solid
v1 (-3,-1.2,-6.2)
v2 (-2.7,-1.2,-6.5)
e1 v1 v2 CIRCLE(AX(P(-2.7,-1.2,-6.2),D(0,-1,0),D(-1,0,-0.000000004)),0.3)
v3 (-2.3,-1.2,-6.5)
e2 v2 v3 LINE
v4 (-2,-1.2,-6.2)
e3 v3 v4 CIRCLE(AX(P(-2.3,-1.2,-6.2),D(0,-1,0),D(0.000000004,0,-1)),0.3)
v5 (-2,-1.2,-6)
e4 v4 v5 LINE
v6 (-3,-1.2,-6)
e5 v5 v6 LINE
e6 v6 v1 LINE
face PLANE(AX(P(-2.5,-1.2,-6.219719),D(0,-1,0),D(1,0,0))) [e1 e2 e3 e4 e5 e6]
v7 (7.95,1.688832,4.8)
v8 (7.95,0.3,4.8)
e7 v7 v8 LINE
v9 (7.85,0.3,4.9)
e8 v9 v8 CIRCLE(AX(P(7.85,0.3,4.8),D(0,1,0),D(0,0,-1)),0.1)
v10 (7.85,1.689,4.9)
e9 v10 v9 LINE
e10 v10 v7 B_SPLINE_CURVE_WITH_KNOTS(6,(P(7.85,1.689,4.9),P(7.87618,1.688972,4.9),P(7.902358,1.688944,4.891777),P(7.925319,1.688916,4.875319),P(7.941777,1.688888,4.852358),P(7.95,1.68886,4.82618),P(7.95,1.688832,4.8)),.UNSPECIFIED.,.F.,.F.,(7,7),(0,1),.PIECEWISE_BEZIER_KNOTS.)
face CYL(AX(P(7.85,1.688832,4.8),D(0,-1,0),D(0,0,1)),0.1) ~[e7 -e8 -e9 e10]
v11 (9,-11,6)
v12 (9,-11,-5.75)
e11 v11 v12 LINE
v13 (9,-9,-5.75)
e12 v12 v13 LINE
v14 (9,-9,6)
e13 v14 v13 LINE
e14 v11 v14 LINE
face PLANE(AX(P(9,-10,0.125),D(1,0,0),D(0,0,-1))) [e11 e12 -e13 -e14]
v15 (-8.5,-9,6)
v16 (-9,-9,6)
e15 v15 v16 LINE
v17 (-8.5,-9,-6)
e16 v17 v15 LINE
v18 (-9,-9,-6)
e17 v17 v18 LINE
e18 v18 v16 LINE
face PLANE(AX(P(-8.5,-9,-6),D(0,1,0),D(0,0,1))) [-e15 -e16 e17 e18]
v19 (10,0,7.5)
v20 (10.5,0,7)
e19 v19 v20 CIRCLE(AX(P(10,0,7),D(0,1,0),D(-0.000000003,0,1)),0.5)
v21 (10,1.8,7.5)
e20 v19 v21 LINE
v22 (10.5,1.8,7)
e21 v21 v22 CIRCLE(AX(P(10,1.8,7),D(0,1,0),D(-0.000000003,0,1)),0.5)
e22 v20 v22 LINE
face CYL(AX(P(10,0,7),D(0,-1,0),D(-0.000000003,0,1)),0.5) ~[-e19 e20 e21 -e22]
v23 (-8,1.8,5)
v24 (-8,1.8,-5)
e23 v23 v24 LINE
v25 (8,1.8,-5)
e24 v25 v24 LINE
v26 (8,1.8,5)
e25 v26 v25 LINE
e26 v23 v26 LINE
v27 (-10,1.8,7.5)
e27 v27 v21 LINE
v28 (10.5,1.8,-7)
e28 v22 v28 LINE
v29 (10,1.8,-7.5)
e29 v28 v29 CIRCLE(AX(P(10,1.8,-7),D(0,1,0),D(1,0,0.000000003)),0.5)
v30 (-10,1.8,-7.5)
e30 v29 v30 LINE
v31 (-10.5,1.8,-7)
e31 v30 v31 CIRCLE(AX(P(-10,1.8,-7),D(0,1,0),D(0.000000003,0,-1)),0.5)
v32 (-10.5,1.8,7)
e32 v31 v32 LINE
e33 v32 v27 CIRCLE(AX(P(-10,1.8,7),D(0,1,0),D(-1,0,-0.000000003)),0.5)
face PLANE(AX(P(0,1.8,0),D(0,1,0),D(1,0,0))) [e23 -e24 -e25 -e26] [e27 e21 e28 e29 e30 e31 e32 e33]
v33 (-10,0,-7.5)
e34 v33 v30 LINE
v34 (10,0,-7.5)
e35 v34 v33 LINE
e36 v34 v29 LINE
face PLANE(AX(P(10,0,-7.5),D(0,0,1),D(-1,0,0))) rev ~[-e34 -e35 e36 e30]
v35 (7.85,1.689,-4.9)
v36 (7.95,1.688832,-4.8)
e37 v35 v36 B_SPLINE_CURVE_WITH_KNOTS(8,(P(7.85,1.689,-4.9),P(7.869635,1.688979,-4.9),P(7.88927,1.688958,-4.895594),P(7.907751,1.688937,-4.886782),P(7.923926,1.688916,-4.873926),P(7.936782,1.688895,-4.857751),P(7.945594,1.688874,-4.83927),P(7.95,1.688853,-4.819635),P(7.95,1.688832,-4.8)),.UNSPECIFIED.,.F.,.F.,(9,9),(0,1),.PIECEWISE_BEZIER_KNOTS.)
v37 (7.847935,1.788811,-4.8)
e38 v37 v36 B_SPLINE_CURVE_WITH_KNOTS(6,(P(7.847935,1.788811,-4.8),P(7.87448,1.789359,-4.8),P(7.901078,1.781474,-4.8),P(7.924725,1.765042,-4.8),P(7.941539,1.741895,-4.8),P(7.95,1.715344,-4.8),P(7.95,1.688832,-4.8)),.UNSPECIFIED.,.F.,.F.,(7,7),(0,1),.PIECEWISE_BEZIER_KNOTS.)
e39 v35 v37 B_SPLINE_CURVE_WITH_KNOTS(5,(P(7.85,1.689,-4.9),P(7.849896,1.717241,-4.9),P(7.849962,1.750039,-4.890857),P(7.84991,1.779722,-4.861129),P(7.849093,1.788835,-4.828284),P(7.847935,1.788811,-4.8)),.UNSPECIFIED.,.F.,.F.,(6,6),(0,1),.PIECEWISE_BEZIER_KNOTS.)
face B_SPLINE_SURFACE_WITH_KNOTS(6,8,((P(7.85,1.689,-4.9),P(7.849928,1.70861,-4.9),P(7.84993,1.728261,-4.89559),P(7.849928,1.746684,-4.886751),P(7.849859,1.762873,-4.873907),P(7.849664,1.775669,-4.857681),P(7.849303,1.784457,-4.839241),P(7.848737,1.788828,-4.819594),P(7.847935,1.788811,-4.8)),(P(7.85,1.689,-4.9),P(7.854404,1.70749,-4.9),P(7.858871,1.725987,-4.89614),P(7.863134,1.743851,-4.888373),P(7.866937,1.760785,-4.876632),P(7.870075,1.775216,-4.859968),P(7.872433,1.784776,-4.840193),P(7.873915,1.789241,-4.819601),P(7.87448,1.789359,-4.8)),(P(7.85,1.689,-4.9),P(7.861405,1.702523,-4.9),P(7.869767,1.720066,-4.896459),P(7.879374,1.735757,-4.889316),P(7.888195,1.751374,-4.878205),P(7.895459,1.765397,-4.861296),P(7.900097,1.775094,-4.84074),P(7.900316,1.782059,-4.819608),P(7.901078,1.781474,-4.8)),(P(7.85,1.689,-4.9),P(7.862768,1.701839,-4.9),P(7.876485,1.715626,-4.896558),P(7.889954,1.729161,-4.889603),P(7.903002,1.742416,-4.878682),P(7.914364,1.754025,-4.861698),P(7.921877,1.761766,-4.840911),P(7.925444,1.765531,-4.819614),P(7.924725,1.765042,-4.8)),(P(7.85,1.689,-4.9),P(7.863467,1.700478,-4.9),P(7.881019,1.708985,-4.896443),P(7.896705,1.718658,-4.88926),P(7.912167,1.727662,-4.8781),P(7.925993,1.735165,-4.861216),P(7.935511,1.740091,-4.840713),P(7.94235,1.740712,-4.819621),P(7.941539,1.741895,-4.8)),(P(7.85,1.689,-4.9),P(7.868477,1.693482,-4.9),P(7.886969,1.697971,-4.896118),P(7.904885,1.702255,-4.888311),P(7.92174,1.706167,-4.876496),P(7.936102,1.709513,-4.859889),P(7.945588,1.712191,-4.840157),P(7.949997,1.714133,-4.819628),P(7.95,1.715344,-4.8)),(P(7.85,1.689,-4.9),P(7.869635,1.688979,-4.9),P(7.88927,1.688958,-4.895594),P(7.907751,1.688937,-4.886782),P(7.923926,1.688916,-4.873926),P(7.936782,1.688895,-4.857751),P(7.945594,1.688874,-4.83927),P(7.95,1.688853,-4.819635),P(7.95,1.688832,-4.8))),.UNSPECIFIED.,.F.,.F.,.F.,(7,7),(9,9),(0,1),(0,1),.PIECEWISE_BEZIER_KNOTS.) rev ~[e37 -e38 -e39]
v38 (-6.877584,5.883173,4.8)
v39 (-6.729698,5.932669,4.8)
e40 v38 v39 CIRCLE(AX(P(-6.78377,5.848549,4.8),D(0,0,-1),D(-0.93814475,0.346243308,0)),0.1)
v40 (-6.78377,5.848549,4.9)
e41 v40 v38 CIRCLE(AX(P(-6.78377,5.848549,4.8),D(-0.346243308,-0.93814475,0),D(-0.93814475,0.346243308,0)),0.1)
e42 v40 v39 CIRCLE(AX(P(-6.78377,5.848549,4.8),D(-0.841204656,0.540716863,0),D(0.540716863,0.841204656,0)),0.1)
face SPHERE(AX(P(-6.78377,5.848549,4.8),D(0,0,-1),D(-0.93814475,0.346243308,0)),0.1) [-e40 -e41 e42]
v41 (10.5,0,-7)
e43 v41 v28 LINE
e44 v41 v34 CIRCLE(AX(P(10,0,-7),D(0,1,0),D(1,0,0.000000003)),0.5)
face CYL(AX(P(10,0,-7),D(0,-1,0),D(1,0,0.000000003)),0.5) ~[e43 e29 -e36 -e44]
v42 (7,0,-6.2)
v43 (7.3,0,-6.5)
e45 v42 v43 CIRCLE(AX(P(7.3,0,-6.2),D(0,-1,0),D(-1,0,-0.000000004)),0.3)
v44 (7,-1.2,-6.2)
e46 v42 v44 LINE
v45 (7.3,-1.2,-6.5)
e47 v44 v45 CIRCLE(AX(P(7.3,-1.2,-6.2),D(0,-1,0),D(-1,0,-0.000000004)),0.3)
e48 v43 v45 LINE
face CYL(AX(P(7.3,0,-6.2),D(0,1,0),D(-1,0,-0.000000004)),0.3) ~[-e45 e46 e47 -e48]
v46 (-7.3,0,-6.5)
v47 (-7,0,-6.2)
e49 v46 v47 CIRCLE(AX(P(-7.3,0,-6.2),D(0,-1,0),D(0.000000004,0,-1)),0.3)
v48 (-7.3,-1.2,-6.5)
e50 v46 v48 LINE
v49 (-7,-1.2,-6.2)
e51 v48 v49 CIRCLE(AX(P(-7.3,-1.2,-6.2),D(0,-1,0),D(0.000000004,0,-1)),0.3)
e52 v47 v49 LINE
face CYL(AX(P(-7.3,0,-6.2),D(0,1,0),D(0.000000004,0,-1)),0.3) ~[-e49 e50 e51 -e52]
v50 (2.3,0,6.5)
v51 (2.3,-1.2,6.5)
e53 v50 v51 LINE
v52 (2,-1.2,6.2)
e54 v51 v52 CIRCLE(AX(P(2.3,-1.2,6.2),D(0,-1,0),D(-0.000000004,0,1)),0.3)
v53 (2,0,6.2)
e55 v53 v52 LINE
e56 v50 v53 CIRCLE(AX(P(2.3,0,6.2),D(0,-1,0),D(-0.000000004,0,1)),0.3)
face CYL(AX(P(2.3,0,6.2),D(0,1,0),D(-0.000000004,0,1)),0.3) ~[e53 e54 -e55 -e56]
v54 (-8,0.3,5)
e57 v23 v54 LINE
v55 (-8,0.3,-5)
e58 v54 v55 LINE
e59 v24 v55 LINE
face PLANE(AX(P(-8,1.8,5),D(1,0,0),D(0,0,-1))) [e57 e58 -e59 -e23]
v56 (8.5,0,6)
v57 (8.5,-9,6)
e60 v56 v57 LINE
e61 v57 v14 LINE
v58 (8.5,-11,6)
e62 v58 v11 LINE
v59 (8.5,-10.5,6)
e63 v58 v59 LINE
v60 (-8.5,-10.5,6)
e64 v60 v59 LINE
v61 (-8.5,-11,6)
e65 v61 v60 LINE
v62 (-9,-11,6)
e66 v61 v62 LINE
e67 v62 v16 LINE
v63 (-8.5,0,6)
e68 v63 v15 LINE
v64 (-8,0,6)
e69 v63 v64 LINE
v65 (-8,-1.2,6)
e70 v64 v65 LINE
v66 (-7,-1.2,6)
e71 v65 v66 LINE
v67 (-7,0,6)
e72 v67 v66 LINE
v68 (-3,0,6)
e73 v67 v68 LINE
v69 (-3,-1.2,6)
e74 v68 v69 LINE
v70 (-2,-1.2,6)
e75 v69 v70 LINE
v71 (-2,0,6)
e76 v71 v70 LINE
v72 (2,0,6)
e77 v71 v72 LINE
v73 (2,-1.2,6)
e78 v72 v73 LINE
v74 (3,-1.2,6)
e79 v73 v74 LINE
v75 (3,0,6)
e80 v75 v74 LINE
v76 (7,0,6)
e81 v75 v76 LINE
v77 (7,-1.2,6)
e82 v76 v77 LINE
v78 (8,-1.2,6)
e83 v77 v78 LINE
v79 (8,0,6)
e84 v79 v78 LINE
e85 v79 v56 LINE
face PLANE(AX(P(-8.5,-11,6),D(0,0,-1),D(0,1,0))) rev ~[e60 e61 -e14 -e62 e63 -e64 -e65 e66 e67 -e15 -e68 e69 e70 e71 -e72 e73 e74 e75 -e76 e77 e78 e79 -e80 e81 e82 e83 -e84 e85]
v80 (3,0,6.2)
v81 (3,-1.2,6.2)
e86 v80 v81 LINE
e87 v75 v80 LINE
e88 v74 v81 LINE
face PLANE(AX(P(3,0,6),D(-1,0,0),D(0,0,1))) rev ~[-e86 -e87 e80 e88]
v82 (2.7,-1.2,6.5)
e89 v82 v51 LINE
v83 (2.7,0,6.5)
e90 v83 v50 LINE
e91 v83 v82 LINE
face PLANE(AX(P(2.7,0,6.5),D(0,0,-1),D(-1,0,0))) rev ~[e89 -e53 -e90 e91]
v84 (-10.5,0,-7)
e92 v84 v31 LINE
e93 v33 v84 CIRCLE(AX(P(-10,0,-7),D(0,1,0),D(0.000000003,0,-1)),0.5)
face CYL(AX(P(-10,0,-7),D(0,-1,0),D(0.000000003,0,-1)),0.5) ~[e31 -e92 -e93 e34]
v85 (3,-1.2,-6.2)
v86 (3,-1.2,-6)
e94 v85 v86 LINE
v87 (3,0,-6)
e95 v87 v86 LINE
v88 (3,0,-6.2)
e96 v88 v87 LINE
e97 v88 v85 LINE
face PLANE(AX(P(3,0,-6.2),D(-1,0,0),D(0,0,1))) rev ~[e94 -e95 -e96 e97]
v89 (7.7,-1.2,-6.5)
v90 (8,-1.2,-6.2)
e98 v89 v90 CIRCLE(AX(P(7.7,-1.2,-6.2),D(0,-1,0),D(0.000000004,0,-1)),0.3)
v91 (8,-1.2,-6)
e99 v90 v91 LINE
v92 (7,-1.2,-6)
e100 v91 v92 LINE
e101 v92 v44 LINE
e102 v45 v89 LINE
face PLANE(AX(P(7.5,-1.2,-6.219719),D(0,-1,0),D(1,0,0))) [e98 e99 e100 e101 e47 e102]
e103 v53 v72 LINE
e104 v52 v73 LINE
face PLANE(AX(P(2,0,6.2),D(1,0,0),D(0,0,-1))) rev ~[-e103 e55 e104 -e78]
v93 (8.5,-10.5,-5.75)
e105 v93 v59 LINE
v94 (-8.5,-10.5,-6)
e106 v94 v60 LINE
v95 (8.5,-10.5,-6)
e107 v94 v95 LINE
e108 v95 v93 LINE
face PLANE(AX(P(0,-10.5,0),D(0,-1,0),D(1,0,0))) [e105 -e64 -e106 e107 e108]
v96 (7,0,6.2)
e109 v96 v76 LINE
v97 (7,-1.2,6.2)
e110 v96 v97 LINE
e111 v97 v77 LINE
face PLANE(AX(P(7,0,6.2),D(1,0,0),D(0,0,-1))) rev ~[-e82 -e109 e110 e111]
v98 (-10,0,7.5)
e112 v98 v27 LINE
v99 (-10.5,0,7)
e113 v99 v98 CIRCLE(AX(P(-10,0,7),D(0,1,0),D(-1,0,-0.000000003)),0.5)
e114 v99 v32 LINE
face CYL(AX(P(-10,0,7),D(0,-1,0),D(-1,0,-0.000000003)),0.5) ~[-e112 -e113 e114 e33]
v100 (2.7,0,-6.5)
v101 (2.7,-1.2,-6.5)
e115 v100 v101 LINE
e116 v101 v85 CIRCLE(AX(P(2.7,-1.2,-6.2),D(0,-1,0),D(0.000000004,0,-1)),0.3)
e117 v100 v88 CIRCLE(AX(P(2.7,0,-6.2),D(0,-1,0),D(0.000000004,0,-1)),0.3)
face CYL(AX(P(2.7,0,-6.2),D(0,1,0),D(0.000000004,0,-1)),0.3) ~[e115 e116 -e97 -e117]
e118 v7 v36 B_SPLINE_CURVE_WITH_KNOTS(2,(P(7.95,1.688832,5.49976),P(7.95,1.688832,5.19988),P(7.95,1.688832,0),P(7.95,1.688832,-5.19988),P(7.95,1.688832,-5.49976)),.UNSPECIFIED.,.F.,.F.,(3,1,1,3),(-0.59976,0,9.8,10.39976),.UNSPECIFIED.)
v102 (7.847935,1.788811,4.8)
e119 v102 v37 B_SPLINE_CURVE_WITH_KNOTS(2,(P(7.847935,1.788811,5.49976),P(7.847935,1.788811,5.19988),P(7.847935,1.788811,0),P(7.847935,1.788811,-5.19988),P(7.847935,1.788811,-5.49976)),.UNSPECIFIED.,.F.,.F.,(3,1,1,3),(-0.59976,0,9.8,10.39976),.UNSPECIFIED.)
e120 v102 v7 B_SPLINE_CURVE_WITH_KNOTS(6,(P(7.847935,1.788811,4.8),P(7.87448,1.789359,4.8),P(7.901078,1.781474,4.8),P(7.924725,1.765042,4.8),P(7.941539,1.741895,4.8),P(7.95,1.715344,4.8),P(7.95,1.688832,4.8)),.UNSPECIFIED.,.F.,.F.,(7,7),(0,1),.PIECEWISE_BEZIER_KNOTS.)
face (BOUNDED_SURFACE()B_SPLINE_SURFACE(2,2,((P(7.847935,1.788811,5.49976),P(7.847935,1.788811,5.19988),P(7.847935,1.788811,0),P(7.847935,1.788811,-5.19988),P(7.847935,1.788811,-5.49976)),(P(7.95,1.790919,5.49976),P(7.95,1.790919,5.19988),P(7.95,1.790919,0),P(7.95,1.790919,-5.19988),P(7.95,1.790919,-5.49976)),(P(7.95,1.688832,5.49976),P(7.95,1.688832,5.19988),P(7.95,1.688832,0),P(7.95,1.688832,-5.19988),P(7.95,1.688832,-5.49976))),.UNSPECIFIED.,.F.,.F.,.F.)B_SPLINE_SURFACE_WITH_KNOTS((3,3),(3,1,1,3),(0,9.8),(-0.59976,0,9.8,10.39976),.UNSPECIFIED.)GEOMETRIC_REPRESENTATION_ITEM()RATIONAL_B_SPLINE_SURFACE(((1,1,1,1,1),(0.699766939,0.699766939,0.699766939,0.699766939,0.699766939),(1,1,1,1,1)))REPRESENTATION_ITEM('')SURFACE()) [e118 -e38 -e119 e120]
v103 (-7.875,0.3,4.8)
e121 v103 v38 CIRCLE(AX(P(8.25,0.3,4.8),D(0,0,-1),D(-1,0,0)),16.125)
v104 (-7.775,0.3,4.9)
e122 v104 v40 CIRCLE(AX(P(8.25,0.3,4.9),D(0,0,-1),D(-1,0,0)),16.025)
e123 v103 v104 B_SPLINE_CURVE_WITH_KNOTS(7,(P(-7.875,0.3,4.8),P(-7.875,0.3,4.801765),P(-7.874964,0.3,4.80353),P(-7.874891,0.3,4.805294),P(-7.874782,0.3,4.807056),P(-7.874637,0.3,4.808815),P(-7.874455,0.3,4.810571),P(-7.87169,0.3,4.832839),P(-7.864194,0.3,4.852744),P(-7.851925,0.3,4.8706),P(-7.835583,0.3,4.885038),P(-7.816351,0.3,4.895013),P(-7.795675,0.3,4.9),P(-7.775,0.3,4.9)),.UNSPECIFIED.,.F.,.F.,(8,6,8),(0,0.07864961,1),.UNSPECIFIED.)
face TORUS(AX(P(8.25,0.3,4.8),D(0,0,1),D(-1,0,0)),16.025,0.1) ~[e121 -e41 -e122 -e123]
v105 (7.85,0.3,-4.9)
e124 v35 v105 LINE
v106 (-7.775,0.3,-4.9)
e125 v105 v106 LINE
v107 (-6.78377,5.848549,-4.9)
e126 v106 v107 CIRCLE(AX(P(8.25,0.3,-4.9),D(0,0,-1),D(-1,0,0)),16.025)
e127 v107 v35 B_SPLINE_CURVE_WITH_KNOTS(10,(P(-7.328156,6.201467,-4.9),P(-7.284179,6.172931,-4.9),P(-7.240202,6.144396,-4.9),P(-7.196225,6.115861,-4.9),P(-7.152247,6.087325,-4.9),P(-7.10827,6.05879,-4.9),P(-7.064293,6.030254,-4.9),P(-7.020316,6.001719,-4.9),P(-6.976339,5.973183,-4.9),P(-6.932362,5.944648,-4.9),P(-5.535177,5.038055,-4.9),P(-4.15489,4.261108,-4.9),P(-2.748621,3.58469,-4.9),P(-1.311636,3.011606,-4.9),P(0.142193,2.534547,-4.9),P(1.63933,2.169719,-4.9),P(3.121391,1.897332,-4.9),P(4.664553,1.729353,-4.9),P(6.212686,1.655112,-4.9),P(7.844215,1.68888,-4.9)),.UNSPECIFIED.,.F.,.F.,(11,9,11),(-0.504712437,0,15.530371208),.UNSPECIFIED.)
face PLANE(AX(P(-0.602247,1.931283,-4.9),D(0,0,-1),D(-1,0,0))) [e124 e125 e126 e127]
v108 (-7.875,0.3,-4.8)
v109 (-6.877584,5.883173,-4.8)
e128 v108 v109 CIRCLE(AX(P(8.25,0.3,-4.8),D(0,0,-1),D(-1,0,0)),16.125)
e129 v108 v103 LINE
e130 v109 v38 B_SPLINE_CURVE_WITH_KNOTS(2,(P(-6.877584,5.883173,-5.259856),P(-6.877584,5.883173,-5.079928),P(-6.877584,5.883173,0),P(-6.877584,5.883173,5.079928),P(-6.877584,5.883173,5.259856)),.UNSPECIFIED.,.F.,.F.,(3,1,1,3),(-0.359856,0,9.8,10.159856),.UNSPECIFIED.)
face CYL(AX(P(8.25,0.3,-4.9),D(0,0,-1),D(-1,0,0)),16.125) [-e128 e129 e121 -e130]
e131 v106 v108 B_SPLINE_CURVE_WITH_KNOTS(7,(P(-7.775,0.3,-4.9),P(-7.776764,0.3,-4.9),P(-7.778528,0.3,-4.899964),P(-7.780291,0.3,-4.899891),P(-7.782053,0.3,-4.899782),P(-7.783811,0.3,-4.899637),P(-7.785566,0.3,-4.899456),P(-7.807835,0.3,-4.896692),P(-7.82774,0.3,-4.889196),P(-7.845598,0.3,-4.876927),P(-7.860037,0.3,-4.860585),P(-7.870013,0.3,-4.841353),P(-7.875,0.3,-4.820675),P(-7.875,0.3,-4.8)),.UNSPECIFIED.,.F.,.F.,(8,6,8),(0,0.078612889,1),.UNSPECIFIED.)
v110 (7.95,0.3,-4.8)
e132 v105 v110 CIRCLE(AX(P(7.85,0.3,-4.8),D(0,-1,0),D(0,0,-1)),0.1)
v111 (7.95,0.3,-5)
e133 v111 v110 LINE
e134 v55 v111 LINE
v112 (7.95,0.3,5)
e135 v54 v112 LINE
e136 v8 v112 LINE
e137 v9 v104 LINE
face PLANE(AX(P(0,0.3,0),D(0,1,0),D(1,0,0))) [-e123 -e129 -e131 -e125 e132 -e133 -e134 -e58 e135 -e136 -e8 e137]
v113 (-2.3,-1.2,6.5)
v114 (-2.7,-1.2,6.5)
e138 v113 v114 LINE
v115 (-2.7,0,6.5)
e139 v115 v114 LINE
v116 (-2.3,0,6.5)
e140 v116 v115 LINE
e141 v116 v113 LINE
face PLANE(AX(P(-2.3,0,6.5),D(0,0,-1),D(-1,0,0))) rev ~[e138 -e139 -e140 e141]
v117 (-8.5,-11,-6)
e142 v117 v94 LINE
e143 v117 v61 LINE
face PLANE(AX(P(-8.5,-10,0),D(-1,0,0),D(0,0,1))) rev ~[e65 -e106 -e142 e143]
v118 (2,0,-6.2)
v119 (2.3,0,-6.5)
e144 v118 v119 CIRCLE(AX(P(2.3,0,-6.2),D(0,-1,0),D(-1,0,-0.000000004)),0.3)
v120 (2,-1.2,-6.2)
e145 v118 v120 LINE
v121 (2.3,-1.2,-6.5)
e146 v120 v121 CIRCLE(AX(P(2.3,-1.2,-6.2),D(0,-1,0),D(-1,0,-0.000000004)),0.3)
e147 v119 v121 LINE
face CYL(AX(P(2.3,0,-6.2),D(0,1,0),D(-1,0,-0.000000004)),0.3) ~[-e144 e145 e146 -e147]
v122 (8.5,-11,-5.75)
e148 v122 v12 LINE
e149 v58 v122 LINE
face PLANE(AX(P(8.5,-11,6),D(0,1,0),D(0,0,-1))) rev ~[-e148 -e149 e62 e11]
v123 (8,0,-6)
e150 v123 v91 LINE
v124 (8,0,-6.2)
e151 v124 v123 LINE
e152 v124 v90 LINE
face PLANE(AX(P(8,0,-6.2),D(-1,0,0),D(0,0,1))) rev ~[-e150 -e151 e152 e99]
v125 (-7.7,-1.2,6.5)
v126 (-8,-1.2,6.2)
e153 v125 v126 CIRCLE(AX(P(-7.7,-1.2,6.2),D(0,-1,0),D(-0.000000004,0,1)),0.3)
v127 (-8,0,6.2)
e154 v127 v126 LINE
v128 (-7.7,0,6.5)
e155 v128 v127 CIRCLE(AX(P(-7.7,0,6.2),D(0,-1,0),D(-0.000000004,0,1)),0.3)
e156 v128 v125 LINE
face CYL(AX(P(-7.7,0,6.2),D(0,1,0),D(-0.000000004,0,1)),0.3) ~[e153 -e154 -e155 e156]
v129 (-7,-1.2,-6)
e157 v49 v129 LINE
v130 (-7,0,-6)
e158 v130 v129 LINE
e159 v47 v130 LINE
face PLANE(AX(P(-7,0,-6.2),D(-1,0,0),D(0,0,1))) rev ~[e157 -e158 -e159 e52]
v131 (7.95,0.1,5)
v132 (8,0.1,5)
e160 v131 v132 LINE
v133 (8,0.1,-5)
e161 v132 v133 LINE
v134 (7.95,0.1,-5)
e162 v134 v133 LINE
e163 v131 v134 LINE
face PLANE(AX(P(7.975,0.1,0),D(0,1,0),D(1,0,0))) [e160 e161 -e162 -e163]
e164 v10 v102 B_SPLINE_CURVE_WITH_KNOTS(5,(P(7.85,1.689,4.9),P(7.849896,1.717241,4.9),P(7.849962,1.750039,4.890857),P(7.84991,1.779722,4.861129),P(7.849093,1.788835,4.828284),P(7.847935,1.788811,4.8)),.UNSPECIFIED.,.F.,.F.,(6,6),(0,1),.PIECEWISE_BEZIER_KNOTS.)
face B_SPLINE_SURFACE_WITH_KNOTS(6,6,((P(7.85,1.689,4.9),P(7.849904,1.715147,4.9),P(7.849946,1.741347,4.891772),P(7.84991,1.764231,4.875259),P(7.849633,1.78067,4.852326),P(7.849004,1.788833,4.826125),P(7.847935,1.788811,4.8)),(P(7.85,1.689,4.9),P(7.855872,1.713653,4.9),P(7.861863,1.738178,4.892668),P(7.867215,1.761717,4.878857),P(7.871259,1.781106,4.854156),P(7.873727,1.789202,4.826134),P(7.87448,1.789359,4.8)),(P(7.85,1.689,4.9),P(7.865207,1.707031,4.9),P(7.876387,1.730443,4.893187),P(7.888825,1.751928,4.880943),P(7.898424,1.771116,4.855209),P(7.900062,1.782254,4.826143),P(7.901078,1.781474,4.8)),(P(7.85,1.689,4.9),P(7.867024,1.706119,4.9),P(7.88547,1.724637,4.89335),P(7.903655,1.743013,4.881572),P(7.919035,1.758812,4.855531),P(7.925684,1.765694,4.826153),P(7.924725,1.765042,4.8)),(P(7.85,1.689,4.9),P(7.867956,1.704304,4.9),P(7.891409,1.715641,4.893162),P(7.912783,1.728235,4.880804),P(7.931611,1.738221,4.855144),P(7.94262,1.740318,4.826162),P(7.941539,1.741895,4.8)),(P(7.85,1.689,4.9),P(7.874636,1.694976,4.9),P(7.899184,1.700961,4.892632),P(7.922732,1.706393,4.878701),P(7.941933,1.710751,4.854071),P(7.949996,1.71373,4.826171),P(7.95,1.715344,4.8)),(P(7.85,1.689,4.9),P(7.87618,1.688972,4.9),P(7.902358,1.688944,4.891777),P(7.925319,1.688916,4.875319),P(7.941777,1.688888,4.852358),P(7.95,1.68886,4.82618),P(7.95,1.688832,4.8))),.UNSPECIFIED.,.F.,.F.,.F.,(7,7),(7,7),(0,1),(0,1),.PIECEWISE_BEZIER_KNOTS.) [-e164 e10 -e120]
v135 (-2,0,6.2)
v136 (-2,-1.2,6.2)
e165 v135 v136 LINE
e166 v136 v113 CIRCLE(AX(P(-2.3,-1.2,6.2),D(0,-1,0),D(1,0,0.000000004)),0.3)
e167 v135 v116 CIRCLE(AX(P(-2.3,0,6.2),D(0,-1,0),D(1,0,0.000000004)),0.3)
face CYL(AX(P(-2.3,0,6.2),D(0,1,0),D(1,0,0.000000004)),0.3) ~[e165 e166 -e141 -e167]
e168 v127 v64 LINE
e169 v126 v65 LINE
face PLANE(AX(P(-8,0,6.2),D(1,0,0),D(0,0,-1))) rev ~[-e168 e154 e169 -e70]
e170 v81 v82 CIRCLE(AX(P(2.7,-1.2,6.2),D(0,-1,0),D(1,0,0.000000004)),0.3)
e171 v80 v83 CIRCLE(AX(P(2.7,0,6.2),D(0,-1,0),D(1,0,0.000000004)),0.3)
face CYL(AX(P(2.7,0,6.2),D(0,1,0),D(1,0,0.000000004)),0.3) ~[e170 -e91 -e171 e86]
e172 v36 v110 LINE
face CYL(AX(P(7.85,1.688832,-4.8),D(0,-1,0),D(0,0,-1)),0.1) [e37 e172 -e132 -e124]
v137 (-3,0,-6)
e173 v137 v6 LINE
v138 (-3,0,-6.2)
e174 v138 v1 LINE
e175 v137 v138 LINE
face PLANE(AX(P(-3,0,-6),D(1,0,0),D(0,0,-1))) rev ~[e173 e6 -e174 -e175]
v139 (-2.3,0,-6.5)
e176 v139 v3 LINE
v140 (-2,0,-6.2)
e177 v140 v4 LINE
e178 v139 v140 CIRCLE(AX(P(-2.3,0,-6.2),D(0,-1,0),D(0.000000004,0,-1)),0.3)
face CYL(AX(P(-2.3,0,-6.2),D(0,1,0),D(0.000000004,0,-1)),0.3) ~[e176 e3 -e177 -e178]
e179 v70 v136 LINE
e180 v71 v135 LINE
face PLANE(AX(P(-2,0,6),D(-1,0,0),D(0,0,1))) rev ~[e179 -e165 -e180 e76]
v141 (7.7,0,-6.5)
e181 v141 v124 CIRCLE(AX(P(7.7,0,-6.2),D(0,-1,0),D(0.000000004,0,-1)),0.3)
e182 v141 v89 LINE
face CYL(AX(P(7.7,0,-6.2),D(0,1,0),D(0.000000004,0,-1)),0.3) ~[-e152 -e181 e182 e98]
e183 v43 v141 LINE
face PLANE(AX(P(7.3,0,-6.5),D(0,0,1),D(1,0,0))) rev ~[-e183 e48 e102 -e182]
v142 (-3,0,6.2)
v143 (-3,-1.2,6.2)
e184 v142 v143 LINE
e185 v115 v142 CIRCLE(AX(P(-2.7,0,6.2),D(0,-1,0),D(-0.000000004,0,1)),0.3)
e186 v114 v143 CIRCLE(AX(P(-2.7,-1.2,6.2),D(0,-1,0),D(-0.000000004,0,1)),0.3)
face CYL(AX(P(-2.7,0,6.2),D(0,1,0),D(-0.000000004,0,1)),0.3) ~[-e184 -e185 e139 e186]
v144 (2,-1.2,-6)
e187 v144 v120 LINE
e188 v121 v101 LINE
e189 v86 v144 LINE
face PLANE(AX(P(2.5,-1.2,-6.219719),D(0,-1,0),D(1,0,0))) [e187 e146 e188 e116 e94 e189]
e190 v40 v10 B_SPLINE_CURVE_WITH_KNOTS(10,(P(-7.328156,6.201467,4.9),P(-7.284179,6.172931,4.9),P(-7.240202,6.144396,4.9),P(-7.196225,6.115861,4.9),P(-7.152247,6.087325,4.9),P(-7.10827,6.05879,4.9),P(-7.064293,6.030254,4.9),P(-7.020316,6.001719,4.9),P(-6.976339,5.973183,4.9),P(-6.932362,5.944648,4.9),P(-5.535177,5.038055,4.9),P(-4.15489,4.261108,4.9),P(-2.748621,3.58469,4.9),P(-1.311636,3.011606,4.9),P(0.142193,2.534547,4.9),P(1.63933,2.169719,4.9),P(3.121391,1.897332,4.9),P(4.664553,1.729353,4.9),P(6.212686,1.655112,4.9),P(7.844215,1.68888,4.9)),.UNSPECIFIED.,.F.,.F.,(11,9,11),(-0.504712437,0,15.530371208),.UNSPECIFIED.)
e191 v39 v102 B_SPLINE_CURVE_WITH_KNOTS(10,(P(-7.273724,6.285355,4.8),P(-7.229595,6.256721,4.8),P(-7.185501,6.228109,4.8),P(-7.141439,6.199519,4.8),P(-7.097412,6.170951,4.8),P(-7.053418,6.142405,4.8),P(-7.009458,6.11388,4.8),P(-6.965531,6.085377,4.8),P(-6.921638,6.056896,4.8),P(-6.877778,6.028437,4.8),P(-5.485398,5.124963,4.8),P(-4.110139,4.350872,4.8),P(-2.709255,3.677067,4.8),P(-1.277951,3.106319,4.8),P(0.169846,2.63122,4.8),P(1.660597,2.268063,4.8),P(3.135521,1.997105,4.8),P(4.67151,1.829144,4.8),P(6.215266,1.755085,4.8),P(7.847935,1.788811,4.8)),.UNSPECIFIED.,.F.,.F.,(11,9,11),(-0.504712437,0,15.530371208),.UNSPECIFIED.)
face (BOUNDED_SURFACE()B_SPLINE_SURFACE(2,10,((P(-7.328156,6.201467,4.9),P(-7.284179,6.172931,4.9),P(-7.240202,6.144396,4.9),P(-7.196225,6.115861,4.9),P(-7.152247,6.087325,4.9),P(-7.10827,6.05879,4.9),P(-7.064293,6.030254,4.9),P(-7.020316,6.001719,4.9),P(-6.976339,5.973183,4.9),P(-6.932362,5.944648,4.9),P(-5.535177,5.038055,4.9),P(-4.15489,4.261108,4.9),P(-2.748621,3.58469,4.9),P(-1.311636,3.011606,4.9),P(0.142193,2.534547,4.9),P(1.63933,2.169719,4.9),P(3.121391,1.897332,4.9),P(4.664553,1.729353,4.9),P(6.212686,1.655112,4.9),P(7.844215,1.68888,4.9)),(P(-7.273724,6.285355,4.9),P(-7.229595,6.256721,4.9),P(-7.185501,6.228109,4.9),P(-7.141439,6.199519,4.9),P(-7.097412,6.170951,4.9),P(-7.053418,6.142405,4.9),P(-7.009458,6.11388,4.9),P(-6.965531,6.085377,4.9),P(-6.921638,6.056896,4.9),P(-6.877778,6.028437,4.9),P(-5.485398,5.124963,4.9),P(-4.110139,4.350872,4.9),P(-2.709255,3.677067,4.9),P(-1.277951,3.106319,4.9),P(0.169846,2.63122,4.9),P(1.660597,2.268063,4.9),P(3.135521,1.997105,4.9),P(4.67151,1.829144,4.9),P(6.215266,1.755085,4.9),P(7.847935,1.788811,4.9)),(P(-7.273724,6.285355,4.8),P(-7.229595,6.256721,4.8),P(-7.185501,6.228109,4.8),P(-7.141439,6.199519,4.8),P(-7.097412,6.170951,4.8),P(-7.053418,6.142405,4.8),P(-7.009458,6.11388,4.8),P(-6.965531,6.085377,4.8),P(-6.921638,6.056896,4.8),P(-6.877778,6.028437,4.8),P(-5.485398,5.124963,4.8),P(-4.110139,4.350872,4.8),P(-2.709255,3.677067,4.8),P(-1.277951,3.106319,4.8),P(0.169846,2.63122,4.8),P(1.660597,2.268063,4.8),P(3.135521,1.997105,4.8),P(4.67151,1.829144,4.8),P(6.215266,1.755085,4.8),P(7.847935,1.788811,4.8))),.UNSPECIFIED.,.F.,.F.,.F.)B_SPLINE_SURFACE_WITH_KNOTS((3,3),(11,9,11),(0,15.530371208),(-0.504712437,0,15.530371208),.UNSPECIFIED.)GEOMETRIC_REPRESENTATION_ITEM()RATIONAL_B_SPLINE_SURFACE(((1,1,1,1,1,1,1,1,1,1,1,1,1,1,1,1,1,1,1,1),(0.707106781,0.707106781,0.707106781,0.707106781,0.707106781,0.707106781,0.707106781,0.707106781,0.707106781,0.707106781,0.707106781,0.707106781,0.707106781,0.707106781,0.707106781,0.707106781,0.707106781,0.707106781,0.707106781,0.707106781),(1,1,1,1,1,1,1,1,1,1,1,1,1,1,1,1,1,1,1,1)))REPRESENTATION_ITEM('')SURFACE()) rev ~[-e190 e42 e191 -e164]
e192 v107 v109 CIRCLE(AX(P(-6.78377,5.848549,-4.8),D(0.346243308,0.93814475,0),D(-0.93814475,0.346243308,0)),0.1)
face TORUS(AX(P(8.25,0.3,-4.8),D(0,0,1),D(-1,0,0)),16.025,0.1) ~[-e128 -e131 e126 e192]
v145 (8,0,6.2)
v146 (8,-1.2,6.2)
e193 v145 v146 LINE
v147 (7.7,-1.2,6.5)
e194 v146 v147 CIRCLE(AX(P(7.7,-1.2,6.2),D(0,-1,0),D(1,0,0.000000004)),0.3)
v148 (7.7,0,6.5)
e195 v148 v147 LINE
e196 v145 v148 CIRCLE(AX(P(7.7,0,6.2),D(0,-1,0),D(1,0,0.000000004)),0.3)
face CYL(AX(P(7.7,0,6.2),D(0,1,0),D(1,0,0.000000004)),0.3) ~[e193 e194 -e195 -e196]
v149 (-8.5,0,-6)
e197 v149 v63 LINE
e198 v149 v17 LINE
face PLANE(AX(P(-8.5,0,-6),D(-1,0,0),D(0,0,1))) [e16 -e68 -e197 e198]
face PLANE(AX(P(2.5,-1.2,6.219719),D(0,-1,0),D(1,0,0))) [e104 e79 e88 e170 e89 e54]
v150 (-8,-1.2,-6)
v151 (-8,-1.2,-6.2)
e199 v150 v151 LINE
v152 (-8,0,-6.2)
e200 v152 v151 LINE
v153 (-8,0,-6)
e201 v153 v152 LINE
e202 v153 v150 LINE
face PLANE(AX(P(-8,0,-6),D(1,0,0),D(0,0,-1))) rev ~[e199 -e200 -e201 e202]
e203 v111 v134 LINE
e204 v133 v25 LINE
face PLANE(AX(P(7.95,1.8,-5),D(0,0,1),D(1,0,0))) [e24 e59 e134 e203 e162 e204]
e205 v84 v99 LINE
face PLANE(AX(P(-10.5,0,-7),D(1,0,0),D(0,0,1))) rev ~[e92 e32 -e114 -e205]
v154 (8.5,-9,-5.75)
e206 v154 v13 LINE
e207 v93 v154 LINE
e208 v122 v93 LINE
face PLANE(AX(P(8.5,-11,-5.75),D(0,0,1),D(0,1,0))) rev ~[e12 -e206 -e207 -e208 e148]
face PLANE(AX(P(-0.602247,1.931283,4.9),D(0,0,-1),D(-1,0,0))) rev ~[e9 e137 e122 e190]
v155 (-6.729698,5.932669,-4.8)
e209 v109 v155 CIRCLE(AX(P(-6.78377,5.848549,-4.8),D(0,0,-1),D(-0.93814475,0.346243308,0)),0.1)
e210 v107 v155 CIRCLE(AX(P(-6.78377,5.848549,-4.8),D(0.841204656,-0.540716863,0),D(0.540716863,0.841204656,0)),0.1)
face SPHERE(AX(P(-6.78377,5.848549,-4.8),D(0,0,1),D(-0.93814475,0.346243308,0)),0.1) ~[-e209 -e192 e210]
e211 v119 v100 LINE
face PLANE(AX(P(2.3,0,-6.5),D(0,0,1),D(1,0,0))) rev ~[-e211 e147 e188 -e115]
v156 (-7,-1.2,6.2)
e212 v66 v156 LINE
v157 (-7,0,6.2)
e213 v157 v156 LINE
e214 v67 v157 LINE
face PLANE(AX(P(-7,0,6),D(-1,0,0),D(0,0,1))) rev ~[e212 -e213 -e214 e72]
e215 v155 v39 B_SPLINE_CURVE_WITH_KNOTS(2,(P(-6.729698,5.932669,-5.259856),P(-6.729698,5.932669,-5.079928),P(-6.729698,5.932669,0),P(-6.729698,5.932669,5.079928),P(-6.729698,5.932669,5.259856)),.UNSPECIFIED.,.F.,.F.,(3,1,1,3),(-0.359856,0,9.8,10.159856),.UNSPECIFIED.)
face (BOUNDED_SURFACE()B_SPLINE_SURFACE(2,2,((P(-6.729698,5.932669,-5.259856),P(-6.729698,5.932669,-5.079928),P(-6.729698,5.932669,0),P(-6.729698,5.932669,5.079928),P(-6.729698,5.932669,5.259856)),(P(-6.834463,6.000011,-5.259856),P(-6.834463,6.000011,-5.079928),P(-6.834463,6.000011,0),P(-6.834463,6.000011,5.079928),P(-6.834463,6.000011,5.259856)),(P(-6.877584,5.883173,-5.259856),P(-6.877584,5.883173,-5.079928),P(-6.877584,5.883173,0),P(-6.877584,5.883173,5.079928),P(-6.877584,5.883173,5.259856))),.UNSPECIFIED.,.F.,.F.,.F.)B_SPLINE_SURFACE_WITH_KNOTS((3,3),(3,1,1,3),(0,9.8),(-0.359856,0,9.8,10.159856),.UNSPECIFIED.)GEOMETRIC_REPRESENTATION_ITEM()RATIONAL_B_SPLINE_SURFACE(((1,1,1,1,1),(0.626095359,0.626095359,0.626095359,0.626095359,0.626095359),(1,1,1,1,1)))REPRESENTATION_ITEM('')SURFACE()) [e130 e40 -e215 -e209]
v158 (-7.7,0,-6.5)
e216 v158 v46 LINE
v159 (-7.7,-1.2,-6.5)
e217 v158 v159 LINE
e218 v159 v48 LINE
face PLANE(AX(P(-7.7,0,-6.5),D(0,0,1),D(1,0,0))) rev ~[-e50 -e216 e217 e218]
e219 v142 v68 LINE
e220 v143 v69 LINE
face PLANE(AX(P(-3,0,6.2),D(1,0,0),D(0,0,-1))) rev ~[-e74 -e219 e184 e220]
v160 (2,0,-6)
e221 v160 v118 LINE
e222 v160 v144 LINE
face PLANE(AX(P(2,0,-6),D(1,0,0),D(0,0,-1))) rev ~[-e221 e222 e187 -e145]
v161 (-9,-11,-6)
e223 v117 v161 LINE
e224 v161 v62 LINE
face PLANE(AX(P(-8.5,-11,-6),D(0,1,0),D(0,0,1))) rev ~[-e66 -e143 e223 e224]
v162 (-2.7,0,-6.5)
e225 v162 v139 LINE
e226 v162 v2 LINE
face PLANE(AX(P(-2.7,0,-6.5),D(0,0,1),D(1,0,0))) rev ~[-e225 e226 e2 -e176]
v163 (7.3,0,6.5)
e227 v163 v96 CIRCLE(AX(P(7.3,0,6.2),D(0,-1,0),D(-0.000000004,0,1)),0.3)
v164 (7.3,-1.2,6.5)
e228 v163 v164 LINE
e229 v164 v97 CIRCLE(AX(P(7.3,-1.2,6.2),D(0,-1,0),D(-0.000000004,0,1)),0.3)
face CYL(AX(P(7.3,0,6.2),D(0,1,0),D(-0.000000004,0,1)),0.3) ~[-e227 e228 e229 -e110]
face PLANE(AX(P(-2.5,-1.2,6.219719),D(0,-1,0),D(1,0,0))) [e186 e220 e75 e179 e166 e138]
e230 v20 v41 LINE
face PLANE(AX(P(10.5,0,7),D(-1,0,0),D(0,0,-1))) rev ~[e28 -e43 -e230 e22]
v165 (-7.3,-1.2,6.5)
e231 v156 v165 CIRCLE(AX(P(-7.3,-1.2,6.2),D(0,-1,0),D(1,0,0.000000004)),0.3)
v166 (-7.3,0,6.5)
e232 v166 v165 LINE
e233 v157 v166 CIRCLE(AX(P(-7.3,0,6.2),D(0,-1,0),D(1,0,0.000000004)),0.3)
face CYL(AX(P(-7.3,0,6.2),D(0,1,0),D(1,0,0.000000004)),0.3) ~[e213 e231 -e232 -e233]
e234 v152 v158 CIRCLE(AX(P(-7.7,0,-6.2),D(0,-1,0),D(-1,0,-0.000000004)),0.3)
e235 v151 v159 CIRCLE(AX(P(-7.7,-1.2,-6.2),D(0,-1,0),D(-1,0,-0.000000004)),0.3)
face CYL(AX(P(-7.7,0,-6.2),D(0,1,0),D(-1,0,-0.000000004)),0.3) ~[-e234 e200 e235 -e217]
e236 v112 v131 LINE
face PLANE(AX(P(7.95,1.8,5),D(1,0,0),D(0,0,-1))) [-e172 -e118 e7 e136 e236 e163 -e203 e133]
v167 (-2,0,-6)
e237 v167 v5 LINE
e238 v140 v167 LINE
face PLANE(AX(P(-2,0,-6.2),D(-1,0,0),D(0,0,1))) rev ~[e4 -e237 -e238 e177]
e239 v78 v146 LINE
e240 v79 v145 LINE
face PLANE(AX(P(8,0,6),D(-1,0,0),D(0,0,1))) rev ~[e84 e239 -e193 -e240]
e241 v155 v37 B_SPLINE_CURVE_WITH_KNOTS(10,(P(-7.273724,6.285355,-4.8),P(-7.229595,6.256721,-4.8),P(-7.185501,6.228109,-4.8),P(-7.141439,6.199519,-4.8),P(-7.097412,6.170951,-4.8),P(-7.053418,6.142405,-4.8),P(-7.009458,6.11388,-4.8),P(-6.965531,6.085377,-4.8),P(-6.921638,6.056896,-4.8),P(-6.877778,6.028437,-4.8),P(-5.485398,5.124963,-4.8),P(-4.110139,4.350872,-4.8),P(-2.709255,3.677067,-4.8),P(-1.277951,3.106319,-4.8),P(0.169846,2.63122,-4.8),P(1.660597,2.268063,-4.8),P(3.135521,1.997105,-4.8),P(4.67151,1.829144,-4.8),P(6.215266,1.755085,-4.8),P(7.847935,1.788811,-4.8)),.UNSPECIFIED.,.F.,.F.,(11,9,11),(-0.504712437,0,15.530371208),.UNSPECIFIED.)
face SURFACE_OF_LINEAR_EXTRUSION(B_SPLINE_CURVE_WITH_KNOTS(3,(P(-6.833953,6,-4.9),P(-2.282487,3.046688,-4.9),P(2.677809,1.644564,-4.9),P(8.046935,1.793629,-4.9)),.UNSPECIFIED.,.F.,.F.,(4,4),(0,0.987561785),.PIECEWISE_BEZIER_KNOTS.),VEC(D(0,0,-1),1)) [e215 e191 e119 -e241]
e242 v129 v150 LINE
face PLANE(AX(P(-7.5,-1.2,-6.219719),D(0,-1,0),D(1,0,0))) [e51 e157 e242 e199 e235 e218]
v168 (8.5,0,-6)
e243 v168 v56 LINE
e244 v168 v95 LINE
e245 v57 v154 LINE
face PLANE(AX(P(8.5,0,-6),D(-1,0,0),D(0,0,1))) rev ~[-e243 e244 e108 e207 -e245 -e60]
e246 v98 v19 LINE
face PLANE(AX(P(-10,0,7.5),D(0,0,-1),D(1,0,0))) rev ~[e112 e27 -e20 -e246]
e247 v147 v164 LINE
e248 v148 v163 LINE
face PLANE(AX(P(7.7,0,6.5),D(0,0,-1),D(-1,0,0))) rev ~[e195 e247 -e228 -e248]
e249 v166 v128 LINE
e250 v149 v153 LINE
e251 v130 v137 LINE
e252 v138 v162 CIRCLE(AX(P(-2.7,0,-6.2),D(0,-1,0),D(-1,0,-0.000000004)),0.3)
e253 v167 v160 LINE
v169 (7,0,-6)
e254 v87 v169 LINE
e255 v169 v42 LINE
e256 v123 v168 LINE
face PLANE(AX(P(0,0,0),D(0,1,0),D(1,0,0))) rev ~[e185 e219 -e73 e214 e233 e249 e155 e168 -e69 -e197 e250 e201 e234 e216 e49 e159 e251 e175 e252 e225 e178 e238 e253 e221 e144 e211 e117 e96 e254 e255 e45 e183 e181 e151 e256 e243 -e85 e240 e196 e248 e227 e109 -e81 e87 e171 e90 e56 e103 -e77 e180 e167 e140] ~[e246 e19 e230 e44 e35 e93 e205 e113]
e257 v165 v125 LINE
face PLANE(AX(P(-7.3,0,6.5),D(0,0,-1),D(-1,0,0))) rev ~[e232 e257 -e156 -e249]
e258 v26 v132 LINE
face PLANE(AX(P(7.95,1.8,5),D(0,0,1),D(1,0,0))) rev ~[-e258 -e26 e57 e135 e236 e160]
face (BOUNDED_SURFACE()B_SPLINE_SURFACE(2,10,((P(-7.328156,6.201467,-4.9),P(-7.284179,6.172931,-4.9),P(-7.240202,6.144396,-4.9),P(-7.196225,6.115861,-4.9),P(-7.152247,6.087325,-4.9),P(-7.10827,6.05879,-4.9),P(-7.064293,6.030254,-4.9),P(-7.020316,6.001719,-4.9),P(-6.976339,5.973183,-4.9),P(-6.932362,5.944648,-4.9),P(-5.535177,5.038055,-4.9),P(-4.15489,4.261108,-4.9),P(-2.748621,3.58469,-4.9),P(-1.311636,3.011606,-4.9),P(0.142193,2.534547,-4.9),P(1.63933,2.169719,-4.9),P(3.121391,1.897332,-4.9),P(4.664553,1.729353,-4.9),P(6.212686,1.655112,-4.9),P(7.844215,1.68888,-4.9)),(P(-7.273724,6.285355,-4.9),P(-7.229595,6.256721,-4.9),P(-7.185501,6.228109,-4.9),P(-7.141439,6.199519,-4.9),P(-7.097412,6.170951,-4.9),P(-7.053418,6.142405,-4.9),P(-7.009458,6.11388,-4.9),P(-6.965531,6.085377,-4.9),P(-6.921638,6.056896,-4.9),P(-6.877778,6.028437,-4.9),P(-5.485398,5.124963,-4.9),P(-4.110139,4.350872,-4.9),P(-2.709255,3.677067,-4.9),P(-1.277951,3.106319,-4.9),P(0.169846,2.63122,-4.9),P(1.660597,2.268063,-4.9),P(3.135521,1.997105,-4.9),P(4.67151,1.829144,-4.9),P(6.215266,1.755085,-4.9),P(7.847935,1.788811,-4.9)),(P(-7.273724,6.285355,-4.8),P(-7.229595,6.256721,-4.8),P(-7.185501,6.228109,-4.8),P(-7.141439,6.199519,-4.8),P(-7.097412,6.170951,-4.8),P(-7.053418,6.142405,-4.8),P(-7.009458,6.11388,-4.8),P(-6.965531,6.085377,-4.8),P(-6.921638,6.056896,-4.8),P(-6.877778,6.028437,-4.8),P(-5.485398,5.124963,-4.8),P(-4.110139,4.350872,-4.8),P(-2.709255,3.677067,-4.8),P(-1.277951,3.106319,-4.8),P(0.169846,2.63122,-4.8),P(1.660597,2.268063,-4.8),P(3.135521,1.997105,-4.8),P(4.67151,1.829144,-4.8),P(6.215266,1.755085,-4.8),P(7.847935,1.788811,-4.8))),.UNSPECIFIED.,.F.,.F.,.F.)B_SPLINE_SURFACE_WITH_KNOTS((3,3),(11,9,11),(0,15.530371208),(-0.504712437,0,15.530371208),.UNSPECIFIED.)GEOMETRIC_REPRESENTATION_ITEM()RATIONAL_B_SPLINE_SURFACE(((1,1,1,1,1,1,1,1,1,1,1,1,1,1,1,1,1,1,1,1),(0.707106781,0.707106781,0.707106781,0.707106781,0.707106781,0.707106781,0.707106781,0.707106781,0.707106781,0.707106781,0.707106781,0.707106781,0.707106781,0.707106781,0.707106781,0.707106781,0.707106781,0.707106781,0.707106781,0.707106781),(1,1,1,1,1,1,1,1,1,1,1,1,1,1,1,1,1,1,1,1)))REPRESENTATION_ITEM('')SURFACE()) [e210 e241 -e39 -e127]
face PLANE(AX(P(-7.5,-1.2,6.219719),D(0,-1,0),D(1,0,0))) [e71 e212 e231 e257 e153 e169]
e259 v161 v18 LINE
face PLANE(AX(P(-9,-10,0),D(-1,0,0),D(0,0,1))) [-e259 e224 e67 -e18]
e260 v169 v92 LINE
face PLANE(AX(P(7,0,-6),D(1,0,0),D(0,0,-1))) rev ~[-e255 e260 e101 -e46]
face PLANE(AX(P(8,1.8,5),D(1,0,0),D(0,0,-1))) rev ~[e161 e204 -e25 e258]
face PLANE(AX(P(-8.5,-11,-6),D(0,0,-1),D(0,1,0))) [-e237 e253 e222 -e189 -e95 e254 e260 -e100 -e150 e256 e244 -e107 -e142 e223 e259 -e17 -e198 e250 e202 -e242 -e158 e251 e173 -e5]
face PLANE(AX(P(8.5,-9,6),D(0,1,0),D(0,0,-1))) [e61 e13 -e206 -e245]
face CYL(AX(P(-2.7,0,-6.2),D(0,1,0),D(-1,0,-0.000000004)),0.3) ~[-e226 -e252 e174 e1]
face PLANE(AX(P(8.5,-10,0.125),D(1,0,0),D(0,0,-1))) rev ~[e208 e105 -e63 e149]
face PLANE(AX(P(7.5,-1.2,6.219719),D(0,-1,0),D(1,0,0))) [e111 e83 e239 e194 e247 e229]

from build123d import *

# Parameters (mm, degrees)
SALIENTE_EXTRUIR1_DEPTH      = 1.8
CROQUIS2_W                   = 16
CROQUIS2_H                   = 10
CORTAR_EXTRUIR1_DEPTH        = 1.5
SALIENTE_EXTRUIR3_DEPTH      = 4.9
SALIENTE_EXTRUIR3_DEPTH_BACK = 4.9
CROQUIS4_W                   = 0.05
CROQUIS4_H                   = 10
CORTAR_EXTRUIR2_DEPTH        = 1.7
REDONDEO1_R                  = 0.1
REDONDEO2_R                  = 0.1
CROQUIS5_W                   = 17
CROQUIS5_H                   = 12
SALIENTE_EXTRUIR4_DEPTH      = 10.5
SALIENTE_EXTRUIR5_DEPTH      = 1.2
CROQUIS7_W                   = 11.75
CROQUIS7_H                   = 2
SALIENTE_EXTRUIR6_DEPTH      = 0.5
CROQUIS8_W                   = 12
CROQUIS8_H                   = 2
SALIENTE_EXTRUIR7_DEPTH      = 0.5


with BuildPart() as part:
    # Croquis1 → Saliente-Extruir1 (new body)
    with BuildSketch(Plane(origin=(0, 0, 0), x_dir=(1, 0, 0), z_dir=(0, 1, 0))):
        with BuildLine():
            Line((-10, -7.5), (10, -7.5))
            ThreePointArc((10, -7.5), (10.353553391, -7.353553391), (10.5, -7))
            Line((10.5, -7), (10.5, 7))
            ThreePointArc((10.5, 7), (10.353553391, 7.353553391), (10, 7.5))
            Line((10, 7.5), (-10, 7.5))
            ThreePointArc((-10, 7.5), (-10.353553391, 7.353553391), (-10.5, 7))
            Line((-10.5, 7), (-10.5, -7))
            ThreePointArc((-10.5, -7), (-10.353553391, -7.353553391), (-10, -7.5))
        make_face()
    extrude(amount=SALIENTE_EXTRUIR1_DEPTH)

    # Croquis2 → Cortar-Extruir1 (cut)
    with BuildSketch(Plane(origin=(0, 1.8, 0), x_dir=(1, 0, 0), z_dir=(0, 1, 0))):
        Rectangle(CROQUIS2_W, CROQUIS2_H)
    extrude(amount=-CORTAR_EXTRUIR1_DEPTH, mode=Mode.SUBTRACT)

    # Croquis3 → Saliente-Extruir3 (add, two sides: drawn at the far end of the back side and taken through both)
    with BuildSketch(Plane.XY.offset(-SALIENTE_EXTRUIR3_DEPTH_BACK)):
        with BuildLine():
            Line((8.046935069, 1.793629428), (8.088403313, 0.3))
            Line((8.088403313, 0.3), (-7.875, 0.3))
            ThreePointArc((-7.875, 0.3), (-7.612603193, 3.197144273), (-6.833952566, 6))
            add(Edge.make_bspline(
                [(-6.833952566, 6), (-2.282486721, 3.046687717), (2.677809157, 1.644564193), (8.046935069, 1.793629428)],
                knots=[0, 0, 0, 0, 0.987561785, 0.987561785, 0.987561785, 0.987561785], degree=3))
        make_face()
    extrude(amount=SALIENTE_EXTRUIR3_DEPTH + SALIENTE_EXTRUIR3_DEPTH_BACK)

    # Croquis4 → Cortar-Extruir2 (cut)
    with BuildSketch(Plane(origin=(0, 1.8, 0), x_dir=(1, 0, 0), z_dir=(0, 1, 0))):
        with Locations((7.975, 0)):
            Rectangle(CROQUIS4_W, CROQUIS4_H)
    extrude(amount=-CORTAR_EXTRUIR2_DEPTH, mode=Mode.SUBTRACT)

    # Redondeo1
    redondeo1_edges = [part.edges().sort_by_distance(p)[0] for p in [
        (7.95, 1.791105638, -2.45),
    ]]
    fillet(redondeo1_edges, radius=REDONDEO1_R)

    # Redondeo2
    redondeo2_edges = [part.edges().sort_by_distance(p)[0] for p in [
        (-6.833952566, 6, -2.45),
        (-7.612603193, 3.197144273, 4.9),
        (-7.612603193, 3.197144273, -4.9),
        (7.95, 0.994416132, 4.9),
        (7.95, 0.994416132, -4.9),
        (0.184059834, 2.766462, 4.9),
        (7.919976694, 1.760269386, 4.9),
        (0.184059834, 2.766462, -4.9),
        (7.919976694, 1.760269386, -4.9),
    ]]
    fillet(redondeo2_edges, radius=REDONDEO2_R)

    # Croquis5 → Saliente-Extruir4 (add)
    with BuildSketch(Plane.XZ):
        Rectangle(CROQUIS5_W, CROQUIS5_H)
    extrude(amount=SALIENTE_EXTRUIR4_DEPTH)

    # Croquis6 → Saliente-Extruir5 (add)
    with BuildSketch(Plane.XZ):
        with BuildLine():
            Line((-8, 6), (-7, 6))
            Line((-7, 6), (-7, 6.2))
            ThreePointArc((-7, 6.2), (-7.087867966, 6.412132034), (-7.3, 6.5))
            Line((-7.3, 6.5), (-7.7, 6.5))
            ThreePointArc((-7.7, 6.5), (-7.912132034, 6.412132034), (-8, 6.2))
            Line((-8, 6.2), (-8, 6))
        make_face()
        with BuildLine():
            Line((-3, 6), (-2, 6))
            Line((-2, 6), (-2, 6.2))
            ThreePointArc((-2, 6.2), (-2.087867966, 6.412132034), (-2.3, 6.5))
            Line((-2.3, 6.5), (-2.7, 6.5))
            ThreePointArc((-2.7, 6.5), (-2.912132034, 6.412132034), (-3, 6.2))
            Line((-3, 6.2), (-3, 6))
        make_face()
        with BuildLine():
            Line((2, 6.2), (2, 6))
            Line((2, 6), (3, 6))
            Line((3, 6), (3, 6.2))
            ThreePointArc((3, 6.2), (2.912132034, 6.412132034), (2.7, 6.5))
            Line((2.7, 6.5), (2.3, 6.5))
            ThreePointArc((2.3, 6.5), (2.087867966, 6.412132034), (2, 6.2))
        make_face()
        with BuildLine():
            Line((7, 6.2), (7, 6))
            Line((7, 6), (8, 6))
            Line((8, 6), (8, 6.2))
            ThreePointArc((8, 6.2), (7.912132034, 6.412132034), (7.7, 6.5))
            Line((7.7, 6.5), (7.3, 6.5))
            ThreePointArc((7.3, 6.5), (7.087867966, 6.412132034), (7, 6.2))
        make_face()
        with BuildLine():
            Line((3, -6), (2, -6))
            Line((2, -6), (2, -6.2))
            ThreePointArc((2, -6.2), (2.087867966, -6.412132034), (2.3, -6.5))
            Line((2.3, -6.5), (2.7, -6.5))
            ThreePointArc((2.7, -6.5), (2.912132034, -6.412132034), (3, -6.2))
            Line((3, -6.2), (3, -6))
        make_face()
        with BuildLine():
            Line((8, -6), (7, -6))
            Line((7, -6), (7, -6.2))
            ThreePointArc((7, -6.2), (7.087867966, -6.412132034), (7.3, -6.5))
            Line((7.3, -6.5), (7.7, -6.5))
            ThreePointArc((7.7, -6.5), (7.912132034, -6.412132034), (8, -6.2))
            Line((8, -6.2), (8, -6))
        make_face()
        with BuildLine():
            Line((-2, -6), (-3, -6))
            Line((-3, -6), (-3, -6.2))
            ThreePointArc((-3, -6.2), (-2.912132034, -6.412132034), (-2.7, -6.5))
            Line((-2.7, -6.5), (-2.3, -6.5))
            ThreePointArc((-2.3, -6.5), (-2.087867966, -6.412132034), (-2, -6.2))
            Line((-2, -6.2), (-2, -6))
        make_face()
        with BuildLine():
            Line((-7, -6), (-8, -6))
            Line((-8, -6), (-8, -6.2))
            ThreePointArc((-8, -6.2), (-7.912132034, -6.412132034), (-7.7, -6.5))
            Line((-7.7, -6.5), (-7.3, -6.5))
            ThreePointArc((-7.3, -6.5), (-7.087867966, -6.412132034), (-7, -6.2))
            Line((-7, -6.2), (-7, -6))
        make_face()
    extrude(amount=SALIENTE_EXTRUIR5_DEPTH)

    # Croquis7 → Saliente-Extruir6 (add)
    with BuildSketch(Plane(origin=(8.5, 0, 0), x_dir=(0, 0, -1), z_dir=(1, 0, 0))):
        with Locations((-0.125, -10)):
            Rectangle(CROQUIS7_W, CROQUIS7_H)
    extrude(amount=SALIENTE_EXTRUIR6_DEPTH)

    # Croquis8 → Saliente-Extruir7 (add)
    with BuildSketch(Plane.ZY.offset(8.5)):
        with Locations((0, -10)):
            Rectangle(CROQUIS8_W, CROQUIS8_H)
    extrude(amount=SALIENTE_EXTRUIR7_DEPTH)


solid = part.part
